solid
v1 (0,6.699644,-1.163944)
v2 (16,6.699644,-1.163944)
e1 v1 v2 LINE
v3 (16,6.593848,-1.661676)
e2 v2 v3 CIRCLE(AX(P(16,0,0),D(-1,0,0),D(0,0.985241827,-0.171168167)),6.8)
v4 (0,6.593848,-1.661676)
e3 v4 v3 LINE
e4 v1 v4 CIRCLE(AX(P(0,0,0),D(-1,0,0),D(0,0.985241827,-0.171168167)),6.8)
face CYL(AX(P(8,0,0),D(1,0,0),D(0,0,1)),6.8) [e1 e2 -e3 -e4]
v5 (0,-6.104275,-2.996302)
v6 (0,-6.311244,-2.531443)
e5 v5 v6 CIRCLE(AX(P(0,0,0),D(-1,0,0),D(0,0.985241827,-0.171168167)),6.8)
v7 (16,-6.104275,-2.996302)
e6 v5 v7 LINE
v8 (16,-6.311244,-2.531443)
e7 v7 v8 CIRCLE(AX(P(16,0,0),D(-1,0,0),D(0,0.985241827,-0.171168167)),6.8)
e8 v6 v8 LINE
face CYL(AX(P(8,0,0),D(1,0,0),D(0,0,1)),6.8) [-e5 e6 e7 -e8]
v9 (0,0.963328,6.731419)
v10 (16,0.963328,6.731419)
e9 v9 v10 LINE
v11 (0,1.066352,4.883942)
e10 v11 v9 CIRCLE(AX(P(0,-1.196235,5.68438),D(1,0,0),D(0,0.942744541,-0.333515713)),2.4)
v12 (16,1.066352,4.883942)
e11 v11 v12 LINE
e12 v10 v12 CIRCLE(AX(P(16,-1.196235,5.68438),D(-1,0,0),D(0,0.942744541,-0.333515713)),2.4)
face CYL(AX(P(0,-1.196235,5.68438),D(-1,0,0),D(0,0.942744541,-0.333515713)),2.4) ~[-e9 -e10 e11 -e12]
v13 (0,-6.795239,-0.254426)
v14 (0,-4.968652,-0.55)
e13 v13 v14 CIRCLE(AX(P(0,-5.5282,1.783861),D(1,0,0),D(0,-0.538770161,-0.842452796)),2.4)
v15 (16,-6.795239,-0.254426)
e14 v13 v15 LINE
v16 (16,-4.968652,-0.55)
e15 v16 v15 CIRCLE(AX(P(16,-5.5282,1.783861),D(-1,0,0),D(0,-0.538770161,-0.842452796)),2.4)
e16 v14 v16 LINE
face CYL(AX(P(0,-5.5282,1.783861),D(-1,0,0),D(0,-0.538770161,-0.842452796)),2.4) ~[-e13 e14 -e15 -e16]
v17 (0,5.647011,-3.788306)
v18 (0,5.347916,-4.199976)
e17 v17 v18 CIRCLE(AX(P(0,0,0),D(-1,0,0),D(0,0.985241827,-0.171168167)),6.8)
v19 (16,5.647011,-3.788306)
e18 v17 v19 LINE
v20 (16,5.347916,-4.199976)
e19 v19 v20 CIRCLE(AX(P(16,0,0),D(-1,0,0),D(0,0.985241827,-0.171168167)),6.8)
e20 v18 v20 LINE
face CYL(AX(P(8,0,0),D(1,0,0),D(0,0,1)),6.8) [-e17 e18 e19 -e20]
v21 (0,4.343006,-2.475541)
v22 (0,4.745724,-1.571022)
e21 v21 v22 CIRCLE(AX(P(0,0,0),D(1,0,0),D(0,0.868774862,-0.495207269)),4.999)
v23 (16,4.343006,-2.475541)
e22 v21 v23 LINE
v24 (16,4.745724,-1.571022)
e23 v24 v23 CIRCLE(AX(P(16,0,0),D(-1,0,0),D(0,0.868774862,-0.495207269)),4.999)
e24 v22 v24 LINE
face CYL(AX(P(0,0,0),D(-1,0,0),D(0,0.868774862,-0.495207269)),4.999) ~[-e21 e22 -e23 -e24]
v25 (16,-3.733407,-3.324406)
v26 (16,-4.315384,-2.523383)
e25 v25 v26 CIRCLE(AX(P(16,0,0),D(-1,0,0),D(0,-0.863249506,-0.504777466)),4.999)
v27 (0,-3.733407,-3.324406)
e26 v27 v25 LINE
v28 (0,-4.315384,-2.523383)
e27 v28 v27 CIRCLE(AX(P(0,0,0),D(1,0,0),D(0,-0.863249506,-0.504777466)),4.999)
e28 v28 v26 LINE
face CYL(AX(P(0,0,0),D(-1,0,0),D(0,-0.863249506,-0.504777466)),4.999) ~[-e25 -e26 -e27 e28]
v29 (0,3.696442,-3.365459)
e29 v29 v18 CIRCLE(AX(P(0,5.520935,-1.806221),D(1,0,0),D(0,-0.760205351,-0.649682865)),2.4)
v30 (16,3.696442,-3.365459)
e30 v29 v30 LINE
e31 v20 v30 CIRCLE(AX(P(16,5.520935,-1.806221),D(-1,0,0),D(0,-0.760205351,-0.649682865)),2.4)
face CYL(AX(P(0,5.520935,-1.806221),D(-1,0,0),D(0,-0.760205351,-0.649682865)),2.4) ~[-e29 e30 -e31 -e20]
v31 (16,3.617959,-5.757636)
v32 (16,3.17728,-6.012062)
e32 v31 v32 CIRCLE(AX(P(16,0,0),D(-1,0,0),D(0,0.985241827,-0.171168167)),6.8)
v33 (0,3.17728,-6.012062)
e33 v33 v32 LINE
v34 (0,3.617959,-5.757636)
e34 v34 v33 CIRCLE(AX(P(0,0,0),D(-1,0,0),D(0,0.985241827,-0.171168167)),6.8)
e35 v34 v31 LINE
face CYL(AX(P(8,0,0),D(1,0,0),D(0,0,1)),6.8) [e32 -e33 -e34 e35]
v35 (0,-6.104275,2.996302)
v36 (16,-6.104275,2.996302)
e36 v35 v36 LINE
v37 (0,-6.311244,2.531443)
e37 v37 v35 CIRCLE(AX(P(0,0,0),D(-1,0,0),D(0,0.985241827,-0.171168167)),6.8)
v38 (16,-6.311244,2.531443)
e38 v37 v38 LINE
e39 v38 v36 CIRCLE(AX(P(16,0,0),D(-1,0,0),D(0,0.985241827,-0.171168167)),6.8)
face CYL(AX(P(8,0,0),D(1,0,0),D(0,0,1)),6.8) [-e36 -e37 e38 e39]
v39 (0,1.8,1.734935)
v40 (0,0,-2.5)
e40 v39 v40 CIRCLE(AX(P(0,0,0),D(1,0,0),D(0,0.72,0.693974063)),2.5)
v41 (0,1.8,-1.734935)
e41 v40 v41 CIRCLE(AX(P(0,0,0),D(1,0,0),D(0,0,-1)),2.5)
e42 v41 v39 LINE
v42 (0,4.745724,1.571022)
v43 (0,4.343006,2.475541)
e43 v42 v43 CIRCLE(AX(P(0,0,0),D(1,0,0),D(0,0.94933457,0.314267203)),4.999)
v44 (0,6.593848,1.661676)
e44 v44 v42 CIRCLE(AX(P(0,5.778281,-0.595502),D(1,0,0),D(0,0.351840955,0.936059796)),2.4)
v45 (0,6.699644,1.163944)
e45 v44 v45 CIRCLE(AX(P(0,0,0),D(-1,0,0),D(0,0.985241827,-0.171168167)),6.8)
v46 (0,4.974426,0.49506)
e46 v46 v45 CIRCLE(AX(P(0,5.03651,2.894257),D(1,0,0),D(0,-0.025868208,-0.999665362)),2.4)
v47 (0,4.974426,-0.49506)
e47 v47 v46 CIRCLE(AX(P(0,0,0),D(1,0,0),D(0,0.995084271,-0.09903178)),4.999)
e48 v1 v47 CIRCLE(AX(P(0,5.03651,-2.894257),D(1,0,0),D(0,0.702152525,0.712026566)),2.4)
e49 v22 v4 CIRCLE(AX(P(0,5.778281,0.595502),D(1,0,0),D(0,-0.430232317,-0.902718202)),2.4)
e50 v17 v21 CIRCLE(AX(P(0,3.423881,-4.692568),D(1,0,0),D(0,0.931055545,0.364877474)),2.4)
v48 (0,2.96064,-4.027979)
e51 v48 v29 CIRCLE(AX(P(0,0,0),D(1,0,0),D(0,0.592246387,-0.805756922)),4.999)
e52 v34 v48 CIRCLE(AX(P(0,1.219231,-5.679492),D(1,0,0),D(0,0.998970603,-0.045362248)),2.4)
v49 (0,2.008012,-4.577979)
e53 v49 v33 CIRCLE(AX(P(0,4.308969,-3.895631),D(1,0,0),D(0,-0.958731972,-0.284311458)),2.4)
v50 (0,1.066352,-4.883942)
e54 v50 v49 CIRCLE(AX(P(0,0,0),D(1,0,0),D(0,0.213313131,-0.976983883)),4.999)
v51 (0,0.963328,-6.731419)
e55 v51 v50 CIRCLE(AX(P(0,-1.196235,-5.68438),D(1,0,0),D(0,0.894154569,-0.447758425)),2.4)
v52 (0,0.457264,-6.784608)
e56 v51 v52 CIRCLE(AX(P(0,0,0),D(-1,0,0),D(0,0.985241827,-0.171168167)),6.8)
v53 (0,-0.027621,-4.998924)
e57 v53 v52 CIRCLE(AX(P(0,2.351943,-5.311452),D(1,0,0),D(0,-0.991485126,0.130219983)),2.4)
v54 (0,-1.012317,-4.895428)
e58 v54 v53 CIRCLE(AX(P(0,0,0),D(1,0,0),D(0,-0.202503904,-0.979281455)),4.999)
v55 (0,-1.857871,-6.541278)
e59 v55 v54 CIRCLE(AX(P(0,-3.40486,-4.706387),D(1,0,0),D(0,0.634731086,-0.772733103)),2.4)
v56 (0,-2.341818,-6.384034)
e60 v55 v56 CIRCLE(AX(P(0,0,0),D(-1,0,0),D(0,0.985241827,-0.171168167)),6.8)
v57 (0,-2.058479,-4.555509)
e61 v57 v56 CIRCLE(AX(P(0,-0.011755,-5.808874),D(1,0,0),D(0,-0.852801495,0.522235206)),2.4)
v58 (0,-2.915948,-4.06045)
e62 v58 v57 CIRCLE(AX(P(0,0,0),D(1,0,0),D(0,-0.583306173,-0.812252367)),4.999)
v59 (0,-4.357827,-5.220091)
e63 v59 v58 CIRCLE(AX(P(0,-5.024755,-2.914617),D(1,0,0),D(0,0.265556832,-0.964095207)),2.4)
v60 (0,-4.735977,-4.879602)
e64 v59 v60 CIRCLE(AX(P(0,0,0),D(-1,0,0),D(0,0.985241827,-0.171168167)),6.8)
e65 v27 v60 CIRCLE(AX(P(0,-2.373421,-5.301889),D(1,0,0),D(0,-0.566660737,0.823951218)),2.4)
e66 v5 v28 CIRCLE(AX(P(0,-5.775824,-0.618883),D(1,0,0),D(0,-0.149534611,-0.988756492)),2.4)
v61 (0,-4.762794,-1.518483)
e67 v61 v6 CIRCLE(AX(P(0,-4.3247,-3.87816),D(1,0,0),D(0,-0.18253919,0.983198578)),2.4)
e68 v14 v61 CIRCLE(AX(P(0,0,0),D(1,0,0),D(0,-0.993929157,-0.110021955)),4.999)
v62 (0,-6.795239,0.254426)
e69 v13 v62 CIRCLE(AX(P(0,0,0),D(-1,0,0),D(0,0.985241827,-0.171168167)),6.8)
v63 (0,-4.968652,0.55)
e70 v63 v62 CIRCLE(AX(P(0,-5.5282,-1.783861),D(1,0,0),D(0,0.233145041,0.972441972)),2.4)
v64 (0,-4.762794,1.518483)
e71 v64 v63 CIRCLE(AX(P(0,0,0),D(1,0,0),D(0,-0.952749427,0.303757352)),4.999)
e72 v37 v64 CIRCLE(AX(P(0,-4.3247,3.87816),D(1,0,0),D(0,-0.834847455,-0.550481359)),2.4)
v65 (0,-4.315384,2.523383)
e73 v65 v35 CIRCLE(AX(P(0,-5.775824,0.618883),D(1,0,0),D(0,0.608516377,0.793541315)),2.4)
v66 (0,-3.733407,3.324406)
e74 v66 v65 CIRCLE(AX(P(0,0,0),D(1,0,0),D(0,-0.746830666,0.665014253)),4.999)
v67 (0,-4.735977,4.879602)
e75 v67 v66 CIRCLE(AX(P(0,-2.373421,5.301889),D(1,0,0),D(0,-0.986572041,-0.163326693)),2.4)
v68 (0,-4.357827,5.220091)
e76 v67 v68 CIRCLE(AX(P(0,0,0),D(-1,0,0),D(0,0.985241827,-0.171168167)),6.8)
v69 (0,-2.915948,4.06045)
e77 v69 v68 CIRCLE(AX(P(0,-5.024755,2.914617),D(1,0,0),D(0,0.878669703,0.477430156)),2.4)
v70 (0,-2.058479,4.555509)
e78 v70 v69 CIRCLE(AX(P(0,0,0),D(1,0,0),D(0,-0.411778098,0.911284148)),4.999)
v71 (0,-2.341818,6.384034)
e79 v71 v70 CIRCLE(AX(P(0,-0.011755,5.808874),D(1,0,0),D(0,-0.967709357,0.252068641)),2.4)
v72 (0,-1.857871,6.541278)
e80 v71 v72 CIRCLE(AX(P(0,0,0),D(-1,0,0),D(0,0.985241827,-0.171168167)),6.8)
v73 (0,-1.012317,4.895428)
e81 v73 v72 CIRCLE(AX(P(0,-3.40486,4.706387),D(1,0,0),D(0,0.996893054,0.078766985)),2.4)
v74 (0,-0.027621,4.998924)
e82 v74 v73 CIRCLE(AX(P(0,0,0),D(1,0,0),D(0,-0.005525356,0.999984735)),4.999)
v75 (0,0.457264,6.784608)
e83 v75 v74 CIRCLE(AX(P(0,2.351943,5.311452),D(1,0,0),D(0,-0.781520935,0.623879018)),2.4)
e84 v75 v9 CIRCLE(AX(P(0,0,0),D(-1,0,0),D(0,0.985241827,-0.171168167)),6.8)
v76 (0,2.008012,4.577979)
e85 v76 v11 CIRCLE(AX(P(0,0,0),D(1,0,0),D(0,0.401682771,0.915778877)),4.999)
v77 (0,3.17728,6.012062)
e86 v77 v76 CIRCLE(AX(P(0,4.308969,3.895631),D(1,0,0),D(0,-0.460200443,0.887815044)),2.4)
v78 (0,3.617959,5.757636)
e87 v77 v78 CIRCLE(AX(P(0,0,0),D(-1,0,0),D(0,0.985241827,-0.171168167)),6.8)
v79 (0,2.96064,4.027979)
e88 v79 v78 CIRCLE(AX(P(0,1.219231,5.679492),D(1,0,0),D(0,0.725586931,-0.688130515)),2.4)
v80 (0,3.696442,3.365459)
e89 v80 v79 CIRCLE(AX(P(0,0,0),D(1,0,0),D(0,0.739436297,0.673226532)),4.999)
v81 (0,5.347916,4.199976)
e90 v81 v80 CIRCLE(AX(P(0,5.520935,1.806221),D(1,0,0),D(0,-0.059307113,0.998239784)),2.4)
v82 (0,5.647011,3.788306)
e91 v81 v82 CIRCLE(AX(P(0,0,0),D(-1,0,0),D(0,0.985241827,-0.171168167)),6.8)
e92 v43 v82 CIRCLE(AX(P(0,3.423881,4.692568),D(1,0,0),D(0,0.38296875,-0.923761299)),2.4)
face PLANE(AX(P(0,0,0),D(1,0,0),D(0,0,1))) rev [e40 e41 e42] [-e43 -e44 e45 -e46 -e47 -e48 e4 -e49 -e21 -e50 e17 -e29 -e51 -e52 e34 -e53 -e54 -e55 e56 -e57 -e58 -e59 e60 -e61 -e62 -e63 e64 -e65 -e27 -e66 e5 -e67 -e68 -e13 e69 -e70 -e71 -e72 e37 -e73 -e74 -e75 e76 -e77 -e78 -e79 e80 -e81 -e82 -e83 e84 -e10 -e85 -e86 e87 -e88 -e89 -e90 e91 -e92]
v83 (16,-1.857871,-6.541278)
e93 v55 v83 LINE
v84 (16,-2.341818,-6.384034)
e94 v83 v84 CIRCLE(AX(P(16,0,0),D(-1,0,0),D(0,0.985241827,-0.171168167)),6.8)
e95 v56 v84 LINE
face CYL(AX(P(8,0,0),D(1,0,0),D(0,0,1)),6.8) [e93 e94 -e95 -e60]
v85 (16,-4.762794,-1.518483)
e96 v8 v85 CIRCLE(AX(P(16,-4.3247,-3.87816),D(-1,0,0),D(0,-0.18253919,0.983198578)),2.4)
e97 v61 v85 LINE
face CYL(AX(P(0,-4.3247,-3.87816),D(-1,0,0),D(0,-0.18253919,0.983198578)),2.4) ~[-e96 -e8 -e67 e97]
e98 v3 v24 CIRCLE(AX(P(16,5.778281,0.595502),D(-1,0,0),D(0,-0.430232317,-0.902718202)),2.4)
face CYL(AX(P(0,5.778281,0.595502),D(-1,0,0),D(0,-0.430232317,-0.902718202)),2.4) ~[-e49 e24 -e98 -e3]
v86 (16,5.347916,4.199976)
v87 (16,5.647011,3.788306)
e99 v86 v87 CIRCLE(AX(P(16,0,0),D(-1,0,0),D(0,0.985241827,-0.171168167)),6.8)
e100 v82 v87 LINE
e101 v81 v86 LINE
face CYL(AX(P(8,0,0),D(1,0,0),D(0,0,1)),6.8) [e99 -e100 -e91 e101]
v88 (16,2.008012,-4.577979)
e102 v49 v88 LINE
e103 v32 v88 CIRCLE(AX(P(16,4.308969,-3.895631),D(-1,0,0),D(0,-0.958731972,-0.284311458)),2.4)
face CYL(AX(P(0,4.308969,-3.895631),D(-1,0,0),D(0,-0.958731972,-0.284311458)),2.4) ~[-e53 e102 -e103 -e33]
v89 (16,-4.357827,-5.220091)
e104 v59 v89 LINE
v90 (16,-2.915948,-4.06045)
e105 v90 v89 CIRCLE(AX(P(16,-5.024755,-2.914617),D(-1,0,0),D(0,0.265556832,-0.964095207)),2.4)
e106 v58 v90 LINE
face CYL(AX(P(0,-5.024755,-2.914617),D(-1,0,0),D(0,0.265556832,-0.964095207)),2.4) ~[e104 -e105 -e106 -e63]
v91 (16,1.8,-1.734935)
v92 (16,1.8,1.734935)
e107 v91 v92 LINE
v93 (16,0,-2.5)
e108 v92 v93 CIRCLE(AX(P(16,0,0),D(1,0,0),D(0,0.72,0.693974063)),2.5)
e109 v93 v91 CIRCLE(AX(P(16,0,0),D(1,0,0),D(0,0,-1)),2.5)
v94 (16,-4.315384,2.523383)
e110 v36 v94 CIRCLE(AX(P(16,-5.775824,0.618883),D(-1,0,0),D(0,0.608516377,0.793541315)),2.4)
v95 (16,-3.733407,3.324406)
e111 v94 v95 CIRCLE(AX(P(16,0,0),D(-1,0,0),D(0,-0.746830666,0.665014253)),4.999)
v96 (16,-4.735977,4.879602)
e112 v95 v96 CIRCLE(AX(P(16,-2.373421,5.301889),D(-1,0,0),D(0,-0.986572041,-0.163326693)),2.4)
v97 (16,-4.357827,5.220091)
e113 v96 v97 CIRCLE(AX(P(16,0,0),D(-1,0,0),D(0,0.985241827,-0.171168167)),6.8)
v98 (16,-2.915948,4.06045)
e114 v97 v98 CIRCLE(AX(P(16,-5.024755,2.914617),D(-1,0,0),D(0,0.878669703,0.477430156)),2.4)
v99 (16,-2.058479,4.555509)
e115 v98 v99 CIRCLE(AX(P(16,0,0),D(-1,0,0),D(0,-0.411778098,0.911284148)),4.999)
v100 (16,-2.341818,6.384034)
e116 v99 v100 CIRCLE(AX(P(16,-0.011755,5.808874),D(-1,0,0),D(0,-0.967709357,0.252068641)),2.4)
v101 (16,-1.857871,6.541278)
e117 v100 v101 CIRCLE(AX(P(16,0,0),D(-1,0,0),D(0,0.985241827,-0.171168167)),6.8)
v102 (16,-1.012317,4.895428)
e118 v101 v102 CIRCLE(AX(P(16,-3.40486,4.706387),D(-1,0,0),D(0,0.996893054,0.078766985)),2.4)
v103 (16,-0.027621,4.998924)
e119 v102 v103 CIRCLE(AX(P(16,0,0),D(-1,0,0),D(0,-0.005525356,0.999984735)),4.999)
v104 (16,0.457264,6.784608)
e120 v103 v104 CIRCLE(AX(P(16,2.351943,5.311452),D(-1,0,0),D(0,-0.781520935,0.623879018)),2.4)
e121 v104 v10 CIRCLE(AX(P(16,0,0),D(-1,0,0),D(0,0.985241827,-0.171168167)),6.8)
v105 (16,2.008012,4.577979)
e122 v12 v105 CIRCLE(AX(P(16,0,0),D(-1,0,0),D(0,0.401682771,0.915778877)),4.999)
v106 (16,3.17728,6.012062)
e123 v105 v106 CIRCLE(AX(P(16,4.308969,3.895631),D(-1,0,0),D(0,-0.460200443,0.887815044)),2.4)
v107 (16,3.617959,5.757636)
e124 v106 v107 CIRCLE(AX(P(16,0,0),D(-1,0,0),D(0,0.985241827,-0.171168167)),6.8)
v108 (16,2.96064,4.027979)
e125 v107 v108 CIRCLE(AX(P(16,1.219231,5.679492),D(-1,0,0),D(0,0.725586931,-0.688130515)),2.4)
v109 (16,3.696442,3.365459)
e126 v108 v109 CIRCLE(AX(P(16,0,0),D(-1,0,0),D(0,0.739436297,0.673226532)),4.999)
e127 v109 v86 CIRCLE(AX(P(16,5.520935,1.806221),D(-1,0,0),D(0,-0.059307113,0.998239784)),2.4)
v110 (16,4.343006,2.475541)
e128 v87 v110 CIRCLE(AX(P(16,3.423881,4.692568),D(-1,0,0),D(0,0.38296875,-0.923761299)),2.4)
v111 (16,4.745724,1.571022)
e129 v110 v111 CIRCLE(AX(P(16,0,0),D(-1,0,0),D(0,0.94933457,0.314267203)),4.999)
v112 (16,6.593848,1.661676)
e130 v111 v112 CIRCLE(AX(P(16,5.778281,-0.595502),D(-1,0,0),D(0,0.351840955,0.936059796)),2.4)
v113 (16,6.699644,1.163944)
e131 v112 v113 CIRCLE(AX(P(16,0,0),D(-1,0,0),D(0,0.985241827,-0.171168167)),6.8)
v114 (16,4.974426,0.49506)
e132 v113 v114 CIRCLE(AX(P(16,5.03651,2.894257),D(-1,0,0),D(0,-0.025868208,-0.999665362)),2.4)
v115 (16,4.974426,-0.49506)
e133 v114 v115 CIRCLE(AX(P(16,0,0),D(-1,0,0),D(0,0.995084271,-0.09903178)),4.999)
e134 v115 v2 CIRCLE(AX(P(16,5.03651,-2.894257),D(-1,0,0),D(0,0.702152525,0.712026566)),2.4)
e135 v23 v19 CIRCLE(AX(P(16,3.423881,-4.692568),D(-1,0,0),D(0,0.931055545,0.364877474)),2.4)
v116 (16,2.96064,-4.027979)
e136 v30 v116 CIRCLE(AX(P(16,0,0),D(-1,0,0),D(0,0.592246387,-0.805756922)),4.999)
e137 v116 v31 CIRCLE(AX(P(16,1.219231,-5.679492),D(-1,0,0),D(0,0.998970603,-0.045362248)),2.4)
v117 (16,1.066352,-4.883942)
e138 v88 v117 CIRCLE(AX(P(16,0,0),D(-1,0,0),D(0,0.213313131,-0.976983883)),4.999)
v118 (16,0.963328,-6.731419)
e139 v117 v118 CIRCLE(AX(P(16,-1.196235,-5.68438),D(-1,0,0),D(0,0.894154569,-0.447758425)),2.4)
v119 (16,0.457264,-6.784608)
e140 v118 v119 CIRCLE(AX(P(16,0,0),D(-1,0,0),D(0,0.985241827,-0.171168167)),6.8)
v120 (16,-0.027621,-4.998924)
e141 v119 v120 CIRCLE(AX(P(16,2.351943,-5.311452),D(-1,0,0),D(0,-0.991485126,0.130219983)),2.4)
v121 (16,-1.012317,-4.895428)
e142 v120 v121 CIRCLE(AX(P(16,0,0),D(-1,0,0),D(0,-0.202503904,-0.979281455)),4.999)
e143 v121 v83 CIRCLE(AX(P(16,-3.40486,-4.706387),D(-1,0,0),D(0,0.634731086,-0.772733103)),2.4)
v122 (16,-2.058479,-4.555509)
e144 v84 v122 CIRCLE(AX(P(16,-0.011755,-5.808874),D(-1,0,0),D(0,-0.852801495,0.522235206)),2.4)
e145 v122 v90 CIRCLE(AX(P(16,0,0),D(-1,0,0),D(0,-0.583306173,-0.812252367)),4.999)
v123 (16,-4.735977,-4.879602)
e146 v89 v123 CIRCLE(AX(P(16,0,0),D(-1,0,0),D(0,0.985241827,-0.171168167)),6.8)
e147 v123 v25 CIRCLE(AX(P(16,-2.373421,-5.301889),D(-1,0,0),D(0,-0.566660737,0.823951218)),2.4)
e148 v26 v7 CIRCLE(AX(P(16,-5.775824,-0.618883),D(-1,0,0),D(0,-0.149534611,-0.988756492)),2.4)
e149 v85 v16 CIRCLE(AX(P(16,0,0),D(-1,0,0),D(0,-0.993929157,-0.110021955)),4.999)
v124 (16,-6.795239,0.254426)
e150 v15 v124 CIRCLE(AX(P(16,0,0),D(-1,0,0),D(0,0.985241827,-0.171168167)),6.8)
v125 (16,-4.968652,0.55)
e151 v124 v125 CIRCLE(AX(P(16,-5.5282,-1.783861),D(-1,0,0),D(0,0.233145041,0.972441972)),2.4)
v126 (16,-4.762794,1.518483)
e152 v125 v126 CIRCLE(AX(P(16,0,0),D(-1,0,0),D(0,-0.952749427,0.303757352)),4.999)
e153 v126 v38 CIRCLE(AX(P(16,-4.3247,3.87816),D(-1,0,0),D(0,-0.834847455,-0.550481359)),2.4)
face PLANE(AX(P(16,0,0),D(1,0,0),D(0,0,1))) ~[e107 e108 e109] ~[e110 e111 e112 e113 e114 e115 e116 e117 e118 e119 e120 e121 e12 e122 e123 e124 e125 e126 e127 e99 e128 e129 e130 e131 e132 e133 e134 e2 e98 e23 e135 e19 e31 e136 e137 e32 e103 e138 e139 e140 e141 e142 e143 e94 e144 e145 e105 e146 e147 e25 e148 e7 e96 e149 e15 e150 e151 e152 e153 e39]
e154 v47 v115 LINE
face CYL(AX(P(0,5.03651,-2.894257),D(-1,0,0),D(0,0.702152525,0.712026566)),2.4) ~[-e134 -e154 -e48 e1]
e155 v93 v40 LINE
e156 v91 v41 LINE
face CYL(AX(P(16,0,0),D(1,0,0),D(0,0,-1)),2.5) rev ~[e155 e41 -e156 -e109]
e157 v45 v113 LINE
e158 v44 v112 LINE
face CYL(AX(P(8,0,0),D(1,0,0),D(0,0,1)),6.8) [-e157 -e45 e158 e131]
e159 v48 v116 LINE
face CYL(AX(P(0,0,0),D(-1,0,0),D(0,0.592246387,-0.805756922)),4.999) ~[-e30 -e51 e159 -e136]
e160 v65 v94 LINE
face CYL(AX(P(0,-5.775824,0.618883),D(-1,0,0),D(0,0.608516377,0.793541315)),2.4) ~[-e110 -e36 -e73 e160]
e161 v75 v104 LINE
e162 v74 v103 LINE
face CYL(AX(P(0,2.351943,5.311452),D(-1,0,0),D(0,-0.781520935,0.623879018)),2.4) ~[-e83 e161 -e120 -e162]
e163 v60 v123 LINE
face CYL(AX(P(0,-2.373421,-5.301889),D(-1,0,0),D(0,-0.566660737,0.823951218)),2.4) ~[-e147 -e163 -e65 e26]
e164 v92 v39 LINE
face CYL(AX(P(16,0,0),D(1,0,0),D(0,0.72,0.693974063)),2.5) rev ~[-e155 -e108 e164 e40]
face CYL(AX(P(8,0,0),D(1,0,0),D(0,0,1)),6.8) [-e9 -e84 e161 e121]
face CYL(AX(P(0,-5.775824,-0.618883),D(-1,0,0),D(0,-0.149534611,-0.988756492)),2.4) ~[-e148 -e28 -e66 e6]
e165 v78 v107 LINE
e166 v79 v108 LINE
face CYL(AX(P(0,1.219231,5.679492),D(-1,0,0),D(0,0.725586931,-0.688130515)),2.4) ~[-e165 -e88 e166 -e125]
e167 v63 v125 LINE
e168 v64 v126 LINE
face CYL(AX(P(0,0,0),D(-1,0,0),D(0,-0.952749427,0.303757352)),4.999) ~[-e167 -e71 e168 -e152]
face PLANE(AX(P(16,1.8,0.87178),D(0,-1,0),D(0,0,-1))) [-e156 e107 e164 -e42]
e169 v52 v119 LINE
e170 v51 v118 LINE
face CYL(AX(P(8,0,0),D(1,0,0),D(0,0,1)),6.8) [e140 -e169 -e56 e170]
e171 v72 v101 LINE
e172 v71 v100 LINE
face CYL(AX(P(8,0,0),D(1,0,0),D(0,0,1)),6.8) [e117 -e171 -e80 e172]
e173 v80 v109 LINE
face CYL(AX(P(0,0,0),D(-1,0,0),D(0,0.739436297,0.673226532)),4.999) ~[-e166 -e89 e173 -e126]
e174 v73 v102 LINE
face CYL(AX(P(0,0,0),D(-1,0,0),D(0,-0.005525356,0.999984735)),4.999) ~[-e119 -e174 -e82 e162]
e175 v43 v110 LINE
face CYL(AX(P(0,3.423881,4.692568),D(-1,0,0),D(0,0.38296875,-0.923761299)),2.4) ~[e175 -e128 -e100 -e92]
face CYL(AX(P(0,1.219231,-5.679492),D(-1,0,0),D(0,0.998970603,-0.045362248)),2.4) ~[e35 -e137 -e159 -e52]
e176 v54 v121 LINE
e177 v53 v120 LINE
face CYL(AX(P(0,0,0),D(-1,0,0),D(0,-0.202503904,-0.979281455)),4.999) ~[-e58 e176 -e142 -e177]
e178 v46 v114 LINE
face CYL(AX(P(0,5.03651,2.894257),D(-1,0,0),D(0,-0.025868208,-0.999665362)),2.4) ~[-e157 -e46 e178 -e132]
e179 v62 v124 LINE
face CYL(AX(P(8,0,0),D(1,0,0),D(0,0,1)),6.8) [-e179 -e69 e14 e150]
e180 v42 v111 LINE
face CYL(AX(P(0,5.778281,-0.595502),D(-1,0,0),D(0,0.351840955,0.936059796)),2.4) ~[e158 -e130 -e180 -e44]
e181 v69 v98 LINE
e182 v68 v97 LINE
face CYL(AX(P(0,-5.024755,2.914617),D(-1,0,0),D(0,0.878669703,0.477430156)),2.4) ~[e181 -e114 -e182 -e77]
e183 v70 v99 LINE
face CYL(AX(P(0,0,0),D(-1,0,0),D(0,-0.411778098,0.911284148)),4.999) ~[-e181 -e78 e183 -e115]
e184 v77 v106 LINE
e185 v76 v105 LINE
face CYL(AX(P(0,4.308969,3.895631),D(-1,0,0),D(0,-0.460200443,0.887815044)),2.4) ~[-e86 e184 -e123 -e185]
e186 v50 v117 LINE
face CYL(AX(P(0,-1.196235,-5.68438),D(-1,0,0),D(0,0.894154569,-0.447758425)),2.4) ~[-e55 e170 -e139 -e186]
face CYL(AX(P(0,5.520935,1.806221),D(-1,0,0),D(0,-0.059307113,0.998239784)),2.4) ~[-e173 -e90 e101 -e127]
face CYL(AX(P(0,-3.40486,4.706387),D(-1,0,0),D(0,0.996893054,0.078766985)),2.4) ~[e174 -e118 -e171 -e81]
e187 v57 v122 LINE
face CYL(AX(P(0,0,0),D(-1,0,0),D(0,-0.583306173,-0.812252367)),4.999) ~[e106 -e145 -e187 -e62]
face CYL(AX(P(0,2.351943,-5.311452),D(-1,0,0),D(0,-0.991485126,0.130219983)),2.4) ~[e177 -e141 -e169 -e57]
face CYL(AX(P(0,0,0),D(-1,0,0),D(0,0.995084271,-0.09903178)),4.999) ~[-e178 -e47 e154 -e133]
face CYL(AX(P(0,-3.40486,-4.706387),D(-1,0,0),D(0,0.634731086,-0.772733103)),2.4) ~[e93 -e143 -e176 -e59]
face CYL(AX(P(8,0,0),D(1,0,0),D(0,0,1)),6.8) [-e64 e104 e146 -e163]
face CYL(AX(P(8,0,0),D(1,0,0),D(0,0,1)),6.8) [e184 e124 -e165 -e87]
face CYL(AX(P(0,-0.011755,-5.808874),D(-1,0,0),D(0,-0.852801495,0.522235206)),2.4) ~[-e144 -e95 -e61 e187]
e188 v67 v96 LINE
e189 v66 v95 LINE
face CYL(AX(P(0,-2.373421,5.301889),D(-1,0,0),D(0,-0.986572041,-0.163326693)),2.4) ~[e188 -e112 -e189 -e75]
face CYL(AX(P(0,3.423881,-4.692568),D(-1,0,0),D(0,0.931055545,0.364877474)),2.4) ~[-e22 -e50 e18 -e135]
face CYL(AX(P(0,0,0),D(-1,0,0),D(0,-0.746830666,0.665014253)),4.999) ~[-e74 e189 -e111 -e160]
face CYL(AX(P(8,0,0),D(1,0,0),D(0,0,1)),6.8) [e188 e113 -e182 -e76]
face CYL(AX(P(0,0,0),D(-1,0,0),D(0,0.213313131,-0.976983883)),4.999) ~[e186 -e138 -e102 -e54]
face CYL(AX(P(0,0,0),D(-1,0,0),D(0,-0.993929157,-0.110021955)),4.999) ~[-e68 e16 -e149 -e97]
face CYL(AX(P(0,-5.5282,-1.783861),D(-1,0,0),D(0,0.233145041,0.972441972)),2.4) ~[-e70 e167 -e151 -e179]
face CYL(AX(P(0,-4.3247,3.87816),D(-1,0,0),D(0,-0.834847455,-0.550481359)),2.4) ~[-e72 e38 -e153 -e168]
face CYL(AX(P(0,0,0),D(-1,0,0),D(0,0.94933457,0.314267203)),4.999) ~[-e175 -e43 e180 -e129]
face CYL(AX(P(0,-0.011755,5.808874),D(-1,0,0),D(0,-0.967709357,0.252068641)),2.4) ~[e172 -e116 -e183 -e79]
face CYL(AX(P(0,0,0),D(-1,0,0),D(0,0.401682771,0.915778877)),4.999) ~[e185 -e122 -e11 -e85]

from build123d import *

# Parameters (mm, degrees)
BASPROSKE_W         = 16
BASPROSKE_H         = 6.8
TOOTHCUT_DEPTH      = 19.667619023
TEETHCUTS_COUNT     = 15
TEETHCUTS_ANGLE     = 336
BORSKE_R            = 2
BORE_DEPTH          = 50.000508
BOSS_EXTRUDE1_DEPTH = 16
CUT_EXTRUDE1_DEPTH  = 19.662017839


with BuildPart() as part:
    # BasProSke → Base-Revolve (revolve)
    with BuildSketch(Plane(origin=(0, 0, 0), x_dir=(1, 0, 0), z_dir=(0, 1, 0)), mode=Mode.PRIVATE) as base_revolve_sk:
        with Locations((8, 3.4)):
            Rectangle(BASPROSKE_W, BASPROSKE_H)
    revolve(base_revolve_sk.sketch.rotate(Axis((-10, 0, 0), (1, 0, 0)), 180), axis=Axis((-10, 0, 0), (1, 0, 0)))

    # TooCutSke → ToothCut (cut, through all)
    with BuildSketch(Plane(origin=(0, 0, 0), x_dir=(0, 0, -1), z_dir=(1, 0, 0))):
        with BuildLine():
            ThreePointArc((0.495059869, 4.974426271), (0, 4.999), (-0.495059869, 4.974426271))
            ThreePointArc((-0.495059869, 4.974426271), (-0.662158854, 5.91840511), (-1.185392978, 6.72167603))
            ThreePointArc((-1.185392978, 6.72167603), (0, 6.8254), (1.185392978, 6.72167603))
            ThreePointArc((1.185392978, 6.72167603), (0.662158854, 5.91840511), (0.495059869, 4.974426271))
        make_face()
    toothcut = extrude(amount=TOOTHCUT_DEPTH, mode=Mode.SUBTRACT)

    # TeethCuts: ToothCut ×15 about axis
    teethcuts_axis = Axis((-10, 0, 0), (1, 0, 0))
    for i in range(1, TEETHCUTS_COUNT):
        add(toothcut.rotate(teethcuts_axis, i * TEETHCUTS_ANGLE / (TEETHCUTS_COUNT - 1)), mode=Mode.SUBTRACT)

    # BorSke → Bore (cut, symmetric)
    with BuildSketch(Plane(origin=(0, 0, 0), x_dir=(0, 0, -1), z_dir=(1, 0, 0))):
        with Locations(Location((0, 0, 0), (0, 0, 180))):
            Circle(BORSKE_R)
    extrude(amount=BORE_DEPTH, both=True, mode=Mode.SUBTRACT)

    # Sketch1 → Boss-Extrude1 (add, through all)
    with BuildSketch(Plane(origin=(16, 0, 0), x_dir=(0, 0, -1), z_dir=(1, 0, 0))):
        with BuildLine():
            Line((-0.871779789, 1.8), (0.871779789, 1.8))
            ThreePointArc((0.871779789, 1.8), (0, 2), (-0.871779789, 1.8))
        make_face()
    extrude(amount=-BOSS_EXTRUDE1_DEPTH)

    # Sketch1<3> → Cut-Extrude1 (cut, through all)
    with BuildSketch(Plane(origin=(16, 0, 0), x_dir=(0, 0, -1), z_dir=(1, 0, 0))):
        with BuildLine():
            ThreePointArc((2.5, 0), (2.300797459, 0.977921803), (1.734935157, 1.8))
            Line((1.734935157, 1.8), (-1.734935157, 1.8))
            ThreePointArc((-1.734935157, 1.8), (-0.977921803, -2.300797459), (2.5, 0))
        make_face()
    extrude(amount=-CUT_EXTRUDE1_DEPTH, mode=Mode.SUBTRACT)


solid = part.part
